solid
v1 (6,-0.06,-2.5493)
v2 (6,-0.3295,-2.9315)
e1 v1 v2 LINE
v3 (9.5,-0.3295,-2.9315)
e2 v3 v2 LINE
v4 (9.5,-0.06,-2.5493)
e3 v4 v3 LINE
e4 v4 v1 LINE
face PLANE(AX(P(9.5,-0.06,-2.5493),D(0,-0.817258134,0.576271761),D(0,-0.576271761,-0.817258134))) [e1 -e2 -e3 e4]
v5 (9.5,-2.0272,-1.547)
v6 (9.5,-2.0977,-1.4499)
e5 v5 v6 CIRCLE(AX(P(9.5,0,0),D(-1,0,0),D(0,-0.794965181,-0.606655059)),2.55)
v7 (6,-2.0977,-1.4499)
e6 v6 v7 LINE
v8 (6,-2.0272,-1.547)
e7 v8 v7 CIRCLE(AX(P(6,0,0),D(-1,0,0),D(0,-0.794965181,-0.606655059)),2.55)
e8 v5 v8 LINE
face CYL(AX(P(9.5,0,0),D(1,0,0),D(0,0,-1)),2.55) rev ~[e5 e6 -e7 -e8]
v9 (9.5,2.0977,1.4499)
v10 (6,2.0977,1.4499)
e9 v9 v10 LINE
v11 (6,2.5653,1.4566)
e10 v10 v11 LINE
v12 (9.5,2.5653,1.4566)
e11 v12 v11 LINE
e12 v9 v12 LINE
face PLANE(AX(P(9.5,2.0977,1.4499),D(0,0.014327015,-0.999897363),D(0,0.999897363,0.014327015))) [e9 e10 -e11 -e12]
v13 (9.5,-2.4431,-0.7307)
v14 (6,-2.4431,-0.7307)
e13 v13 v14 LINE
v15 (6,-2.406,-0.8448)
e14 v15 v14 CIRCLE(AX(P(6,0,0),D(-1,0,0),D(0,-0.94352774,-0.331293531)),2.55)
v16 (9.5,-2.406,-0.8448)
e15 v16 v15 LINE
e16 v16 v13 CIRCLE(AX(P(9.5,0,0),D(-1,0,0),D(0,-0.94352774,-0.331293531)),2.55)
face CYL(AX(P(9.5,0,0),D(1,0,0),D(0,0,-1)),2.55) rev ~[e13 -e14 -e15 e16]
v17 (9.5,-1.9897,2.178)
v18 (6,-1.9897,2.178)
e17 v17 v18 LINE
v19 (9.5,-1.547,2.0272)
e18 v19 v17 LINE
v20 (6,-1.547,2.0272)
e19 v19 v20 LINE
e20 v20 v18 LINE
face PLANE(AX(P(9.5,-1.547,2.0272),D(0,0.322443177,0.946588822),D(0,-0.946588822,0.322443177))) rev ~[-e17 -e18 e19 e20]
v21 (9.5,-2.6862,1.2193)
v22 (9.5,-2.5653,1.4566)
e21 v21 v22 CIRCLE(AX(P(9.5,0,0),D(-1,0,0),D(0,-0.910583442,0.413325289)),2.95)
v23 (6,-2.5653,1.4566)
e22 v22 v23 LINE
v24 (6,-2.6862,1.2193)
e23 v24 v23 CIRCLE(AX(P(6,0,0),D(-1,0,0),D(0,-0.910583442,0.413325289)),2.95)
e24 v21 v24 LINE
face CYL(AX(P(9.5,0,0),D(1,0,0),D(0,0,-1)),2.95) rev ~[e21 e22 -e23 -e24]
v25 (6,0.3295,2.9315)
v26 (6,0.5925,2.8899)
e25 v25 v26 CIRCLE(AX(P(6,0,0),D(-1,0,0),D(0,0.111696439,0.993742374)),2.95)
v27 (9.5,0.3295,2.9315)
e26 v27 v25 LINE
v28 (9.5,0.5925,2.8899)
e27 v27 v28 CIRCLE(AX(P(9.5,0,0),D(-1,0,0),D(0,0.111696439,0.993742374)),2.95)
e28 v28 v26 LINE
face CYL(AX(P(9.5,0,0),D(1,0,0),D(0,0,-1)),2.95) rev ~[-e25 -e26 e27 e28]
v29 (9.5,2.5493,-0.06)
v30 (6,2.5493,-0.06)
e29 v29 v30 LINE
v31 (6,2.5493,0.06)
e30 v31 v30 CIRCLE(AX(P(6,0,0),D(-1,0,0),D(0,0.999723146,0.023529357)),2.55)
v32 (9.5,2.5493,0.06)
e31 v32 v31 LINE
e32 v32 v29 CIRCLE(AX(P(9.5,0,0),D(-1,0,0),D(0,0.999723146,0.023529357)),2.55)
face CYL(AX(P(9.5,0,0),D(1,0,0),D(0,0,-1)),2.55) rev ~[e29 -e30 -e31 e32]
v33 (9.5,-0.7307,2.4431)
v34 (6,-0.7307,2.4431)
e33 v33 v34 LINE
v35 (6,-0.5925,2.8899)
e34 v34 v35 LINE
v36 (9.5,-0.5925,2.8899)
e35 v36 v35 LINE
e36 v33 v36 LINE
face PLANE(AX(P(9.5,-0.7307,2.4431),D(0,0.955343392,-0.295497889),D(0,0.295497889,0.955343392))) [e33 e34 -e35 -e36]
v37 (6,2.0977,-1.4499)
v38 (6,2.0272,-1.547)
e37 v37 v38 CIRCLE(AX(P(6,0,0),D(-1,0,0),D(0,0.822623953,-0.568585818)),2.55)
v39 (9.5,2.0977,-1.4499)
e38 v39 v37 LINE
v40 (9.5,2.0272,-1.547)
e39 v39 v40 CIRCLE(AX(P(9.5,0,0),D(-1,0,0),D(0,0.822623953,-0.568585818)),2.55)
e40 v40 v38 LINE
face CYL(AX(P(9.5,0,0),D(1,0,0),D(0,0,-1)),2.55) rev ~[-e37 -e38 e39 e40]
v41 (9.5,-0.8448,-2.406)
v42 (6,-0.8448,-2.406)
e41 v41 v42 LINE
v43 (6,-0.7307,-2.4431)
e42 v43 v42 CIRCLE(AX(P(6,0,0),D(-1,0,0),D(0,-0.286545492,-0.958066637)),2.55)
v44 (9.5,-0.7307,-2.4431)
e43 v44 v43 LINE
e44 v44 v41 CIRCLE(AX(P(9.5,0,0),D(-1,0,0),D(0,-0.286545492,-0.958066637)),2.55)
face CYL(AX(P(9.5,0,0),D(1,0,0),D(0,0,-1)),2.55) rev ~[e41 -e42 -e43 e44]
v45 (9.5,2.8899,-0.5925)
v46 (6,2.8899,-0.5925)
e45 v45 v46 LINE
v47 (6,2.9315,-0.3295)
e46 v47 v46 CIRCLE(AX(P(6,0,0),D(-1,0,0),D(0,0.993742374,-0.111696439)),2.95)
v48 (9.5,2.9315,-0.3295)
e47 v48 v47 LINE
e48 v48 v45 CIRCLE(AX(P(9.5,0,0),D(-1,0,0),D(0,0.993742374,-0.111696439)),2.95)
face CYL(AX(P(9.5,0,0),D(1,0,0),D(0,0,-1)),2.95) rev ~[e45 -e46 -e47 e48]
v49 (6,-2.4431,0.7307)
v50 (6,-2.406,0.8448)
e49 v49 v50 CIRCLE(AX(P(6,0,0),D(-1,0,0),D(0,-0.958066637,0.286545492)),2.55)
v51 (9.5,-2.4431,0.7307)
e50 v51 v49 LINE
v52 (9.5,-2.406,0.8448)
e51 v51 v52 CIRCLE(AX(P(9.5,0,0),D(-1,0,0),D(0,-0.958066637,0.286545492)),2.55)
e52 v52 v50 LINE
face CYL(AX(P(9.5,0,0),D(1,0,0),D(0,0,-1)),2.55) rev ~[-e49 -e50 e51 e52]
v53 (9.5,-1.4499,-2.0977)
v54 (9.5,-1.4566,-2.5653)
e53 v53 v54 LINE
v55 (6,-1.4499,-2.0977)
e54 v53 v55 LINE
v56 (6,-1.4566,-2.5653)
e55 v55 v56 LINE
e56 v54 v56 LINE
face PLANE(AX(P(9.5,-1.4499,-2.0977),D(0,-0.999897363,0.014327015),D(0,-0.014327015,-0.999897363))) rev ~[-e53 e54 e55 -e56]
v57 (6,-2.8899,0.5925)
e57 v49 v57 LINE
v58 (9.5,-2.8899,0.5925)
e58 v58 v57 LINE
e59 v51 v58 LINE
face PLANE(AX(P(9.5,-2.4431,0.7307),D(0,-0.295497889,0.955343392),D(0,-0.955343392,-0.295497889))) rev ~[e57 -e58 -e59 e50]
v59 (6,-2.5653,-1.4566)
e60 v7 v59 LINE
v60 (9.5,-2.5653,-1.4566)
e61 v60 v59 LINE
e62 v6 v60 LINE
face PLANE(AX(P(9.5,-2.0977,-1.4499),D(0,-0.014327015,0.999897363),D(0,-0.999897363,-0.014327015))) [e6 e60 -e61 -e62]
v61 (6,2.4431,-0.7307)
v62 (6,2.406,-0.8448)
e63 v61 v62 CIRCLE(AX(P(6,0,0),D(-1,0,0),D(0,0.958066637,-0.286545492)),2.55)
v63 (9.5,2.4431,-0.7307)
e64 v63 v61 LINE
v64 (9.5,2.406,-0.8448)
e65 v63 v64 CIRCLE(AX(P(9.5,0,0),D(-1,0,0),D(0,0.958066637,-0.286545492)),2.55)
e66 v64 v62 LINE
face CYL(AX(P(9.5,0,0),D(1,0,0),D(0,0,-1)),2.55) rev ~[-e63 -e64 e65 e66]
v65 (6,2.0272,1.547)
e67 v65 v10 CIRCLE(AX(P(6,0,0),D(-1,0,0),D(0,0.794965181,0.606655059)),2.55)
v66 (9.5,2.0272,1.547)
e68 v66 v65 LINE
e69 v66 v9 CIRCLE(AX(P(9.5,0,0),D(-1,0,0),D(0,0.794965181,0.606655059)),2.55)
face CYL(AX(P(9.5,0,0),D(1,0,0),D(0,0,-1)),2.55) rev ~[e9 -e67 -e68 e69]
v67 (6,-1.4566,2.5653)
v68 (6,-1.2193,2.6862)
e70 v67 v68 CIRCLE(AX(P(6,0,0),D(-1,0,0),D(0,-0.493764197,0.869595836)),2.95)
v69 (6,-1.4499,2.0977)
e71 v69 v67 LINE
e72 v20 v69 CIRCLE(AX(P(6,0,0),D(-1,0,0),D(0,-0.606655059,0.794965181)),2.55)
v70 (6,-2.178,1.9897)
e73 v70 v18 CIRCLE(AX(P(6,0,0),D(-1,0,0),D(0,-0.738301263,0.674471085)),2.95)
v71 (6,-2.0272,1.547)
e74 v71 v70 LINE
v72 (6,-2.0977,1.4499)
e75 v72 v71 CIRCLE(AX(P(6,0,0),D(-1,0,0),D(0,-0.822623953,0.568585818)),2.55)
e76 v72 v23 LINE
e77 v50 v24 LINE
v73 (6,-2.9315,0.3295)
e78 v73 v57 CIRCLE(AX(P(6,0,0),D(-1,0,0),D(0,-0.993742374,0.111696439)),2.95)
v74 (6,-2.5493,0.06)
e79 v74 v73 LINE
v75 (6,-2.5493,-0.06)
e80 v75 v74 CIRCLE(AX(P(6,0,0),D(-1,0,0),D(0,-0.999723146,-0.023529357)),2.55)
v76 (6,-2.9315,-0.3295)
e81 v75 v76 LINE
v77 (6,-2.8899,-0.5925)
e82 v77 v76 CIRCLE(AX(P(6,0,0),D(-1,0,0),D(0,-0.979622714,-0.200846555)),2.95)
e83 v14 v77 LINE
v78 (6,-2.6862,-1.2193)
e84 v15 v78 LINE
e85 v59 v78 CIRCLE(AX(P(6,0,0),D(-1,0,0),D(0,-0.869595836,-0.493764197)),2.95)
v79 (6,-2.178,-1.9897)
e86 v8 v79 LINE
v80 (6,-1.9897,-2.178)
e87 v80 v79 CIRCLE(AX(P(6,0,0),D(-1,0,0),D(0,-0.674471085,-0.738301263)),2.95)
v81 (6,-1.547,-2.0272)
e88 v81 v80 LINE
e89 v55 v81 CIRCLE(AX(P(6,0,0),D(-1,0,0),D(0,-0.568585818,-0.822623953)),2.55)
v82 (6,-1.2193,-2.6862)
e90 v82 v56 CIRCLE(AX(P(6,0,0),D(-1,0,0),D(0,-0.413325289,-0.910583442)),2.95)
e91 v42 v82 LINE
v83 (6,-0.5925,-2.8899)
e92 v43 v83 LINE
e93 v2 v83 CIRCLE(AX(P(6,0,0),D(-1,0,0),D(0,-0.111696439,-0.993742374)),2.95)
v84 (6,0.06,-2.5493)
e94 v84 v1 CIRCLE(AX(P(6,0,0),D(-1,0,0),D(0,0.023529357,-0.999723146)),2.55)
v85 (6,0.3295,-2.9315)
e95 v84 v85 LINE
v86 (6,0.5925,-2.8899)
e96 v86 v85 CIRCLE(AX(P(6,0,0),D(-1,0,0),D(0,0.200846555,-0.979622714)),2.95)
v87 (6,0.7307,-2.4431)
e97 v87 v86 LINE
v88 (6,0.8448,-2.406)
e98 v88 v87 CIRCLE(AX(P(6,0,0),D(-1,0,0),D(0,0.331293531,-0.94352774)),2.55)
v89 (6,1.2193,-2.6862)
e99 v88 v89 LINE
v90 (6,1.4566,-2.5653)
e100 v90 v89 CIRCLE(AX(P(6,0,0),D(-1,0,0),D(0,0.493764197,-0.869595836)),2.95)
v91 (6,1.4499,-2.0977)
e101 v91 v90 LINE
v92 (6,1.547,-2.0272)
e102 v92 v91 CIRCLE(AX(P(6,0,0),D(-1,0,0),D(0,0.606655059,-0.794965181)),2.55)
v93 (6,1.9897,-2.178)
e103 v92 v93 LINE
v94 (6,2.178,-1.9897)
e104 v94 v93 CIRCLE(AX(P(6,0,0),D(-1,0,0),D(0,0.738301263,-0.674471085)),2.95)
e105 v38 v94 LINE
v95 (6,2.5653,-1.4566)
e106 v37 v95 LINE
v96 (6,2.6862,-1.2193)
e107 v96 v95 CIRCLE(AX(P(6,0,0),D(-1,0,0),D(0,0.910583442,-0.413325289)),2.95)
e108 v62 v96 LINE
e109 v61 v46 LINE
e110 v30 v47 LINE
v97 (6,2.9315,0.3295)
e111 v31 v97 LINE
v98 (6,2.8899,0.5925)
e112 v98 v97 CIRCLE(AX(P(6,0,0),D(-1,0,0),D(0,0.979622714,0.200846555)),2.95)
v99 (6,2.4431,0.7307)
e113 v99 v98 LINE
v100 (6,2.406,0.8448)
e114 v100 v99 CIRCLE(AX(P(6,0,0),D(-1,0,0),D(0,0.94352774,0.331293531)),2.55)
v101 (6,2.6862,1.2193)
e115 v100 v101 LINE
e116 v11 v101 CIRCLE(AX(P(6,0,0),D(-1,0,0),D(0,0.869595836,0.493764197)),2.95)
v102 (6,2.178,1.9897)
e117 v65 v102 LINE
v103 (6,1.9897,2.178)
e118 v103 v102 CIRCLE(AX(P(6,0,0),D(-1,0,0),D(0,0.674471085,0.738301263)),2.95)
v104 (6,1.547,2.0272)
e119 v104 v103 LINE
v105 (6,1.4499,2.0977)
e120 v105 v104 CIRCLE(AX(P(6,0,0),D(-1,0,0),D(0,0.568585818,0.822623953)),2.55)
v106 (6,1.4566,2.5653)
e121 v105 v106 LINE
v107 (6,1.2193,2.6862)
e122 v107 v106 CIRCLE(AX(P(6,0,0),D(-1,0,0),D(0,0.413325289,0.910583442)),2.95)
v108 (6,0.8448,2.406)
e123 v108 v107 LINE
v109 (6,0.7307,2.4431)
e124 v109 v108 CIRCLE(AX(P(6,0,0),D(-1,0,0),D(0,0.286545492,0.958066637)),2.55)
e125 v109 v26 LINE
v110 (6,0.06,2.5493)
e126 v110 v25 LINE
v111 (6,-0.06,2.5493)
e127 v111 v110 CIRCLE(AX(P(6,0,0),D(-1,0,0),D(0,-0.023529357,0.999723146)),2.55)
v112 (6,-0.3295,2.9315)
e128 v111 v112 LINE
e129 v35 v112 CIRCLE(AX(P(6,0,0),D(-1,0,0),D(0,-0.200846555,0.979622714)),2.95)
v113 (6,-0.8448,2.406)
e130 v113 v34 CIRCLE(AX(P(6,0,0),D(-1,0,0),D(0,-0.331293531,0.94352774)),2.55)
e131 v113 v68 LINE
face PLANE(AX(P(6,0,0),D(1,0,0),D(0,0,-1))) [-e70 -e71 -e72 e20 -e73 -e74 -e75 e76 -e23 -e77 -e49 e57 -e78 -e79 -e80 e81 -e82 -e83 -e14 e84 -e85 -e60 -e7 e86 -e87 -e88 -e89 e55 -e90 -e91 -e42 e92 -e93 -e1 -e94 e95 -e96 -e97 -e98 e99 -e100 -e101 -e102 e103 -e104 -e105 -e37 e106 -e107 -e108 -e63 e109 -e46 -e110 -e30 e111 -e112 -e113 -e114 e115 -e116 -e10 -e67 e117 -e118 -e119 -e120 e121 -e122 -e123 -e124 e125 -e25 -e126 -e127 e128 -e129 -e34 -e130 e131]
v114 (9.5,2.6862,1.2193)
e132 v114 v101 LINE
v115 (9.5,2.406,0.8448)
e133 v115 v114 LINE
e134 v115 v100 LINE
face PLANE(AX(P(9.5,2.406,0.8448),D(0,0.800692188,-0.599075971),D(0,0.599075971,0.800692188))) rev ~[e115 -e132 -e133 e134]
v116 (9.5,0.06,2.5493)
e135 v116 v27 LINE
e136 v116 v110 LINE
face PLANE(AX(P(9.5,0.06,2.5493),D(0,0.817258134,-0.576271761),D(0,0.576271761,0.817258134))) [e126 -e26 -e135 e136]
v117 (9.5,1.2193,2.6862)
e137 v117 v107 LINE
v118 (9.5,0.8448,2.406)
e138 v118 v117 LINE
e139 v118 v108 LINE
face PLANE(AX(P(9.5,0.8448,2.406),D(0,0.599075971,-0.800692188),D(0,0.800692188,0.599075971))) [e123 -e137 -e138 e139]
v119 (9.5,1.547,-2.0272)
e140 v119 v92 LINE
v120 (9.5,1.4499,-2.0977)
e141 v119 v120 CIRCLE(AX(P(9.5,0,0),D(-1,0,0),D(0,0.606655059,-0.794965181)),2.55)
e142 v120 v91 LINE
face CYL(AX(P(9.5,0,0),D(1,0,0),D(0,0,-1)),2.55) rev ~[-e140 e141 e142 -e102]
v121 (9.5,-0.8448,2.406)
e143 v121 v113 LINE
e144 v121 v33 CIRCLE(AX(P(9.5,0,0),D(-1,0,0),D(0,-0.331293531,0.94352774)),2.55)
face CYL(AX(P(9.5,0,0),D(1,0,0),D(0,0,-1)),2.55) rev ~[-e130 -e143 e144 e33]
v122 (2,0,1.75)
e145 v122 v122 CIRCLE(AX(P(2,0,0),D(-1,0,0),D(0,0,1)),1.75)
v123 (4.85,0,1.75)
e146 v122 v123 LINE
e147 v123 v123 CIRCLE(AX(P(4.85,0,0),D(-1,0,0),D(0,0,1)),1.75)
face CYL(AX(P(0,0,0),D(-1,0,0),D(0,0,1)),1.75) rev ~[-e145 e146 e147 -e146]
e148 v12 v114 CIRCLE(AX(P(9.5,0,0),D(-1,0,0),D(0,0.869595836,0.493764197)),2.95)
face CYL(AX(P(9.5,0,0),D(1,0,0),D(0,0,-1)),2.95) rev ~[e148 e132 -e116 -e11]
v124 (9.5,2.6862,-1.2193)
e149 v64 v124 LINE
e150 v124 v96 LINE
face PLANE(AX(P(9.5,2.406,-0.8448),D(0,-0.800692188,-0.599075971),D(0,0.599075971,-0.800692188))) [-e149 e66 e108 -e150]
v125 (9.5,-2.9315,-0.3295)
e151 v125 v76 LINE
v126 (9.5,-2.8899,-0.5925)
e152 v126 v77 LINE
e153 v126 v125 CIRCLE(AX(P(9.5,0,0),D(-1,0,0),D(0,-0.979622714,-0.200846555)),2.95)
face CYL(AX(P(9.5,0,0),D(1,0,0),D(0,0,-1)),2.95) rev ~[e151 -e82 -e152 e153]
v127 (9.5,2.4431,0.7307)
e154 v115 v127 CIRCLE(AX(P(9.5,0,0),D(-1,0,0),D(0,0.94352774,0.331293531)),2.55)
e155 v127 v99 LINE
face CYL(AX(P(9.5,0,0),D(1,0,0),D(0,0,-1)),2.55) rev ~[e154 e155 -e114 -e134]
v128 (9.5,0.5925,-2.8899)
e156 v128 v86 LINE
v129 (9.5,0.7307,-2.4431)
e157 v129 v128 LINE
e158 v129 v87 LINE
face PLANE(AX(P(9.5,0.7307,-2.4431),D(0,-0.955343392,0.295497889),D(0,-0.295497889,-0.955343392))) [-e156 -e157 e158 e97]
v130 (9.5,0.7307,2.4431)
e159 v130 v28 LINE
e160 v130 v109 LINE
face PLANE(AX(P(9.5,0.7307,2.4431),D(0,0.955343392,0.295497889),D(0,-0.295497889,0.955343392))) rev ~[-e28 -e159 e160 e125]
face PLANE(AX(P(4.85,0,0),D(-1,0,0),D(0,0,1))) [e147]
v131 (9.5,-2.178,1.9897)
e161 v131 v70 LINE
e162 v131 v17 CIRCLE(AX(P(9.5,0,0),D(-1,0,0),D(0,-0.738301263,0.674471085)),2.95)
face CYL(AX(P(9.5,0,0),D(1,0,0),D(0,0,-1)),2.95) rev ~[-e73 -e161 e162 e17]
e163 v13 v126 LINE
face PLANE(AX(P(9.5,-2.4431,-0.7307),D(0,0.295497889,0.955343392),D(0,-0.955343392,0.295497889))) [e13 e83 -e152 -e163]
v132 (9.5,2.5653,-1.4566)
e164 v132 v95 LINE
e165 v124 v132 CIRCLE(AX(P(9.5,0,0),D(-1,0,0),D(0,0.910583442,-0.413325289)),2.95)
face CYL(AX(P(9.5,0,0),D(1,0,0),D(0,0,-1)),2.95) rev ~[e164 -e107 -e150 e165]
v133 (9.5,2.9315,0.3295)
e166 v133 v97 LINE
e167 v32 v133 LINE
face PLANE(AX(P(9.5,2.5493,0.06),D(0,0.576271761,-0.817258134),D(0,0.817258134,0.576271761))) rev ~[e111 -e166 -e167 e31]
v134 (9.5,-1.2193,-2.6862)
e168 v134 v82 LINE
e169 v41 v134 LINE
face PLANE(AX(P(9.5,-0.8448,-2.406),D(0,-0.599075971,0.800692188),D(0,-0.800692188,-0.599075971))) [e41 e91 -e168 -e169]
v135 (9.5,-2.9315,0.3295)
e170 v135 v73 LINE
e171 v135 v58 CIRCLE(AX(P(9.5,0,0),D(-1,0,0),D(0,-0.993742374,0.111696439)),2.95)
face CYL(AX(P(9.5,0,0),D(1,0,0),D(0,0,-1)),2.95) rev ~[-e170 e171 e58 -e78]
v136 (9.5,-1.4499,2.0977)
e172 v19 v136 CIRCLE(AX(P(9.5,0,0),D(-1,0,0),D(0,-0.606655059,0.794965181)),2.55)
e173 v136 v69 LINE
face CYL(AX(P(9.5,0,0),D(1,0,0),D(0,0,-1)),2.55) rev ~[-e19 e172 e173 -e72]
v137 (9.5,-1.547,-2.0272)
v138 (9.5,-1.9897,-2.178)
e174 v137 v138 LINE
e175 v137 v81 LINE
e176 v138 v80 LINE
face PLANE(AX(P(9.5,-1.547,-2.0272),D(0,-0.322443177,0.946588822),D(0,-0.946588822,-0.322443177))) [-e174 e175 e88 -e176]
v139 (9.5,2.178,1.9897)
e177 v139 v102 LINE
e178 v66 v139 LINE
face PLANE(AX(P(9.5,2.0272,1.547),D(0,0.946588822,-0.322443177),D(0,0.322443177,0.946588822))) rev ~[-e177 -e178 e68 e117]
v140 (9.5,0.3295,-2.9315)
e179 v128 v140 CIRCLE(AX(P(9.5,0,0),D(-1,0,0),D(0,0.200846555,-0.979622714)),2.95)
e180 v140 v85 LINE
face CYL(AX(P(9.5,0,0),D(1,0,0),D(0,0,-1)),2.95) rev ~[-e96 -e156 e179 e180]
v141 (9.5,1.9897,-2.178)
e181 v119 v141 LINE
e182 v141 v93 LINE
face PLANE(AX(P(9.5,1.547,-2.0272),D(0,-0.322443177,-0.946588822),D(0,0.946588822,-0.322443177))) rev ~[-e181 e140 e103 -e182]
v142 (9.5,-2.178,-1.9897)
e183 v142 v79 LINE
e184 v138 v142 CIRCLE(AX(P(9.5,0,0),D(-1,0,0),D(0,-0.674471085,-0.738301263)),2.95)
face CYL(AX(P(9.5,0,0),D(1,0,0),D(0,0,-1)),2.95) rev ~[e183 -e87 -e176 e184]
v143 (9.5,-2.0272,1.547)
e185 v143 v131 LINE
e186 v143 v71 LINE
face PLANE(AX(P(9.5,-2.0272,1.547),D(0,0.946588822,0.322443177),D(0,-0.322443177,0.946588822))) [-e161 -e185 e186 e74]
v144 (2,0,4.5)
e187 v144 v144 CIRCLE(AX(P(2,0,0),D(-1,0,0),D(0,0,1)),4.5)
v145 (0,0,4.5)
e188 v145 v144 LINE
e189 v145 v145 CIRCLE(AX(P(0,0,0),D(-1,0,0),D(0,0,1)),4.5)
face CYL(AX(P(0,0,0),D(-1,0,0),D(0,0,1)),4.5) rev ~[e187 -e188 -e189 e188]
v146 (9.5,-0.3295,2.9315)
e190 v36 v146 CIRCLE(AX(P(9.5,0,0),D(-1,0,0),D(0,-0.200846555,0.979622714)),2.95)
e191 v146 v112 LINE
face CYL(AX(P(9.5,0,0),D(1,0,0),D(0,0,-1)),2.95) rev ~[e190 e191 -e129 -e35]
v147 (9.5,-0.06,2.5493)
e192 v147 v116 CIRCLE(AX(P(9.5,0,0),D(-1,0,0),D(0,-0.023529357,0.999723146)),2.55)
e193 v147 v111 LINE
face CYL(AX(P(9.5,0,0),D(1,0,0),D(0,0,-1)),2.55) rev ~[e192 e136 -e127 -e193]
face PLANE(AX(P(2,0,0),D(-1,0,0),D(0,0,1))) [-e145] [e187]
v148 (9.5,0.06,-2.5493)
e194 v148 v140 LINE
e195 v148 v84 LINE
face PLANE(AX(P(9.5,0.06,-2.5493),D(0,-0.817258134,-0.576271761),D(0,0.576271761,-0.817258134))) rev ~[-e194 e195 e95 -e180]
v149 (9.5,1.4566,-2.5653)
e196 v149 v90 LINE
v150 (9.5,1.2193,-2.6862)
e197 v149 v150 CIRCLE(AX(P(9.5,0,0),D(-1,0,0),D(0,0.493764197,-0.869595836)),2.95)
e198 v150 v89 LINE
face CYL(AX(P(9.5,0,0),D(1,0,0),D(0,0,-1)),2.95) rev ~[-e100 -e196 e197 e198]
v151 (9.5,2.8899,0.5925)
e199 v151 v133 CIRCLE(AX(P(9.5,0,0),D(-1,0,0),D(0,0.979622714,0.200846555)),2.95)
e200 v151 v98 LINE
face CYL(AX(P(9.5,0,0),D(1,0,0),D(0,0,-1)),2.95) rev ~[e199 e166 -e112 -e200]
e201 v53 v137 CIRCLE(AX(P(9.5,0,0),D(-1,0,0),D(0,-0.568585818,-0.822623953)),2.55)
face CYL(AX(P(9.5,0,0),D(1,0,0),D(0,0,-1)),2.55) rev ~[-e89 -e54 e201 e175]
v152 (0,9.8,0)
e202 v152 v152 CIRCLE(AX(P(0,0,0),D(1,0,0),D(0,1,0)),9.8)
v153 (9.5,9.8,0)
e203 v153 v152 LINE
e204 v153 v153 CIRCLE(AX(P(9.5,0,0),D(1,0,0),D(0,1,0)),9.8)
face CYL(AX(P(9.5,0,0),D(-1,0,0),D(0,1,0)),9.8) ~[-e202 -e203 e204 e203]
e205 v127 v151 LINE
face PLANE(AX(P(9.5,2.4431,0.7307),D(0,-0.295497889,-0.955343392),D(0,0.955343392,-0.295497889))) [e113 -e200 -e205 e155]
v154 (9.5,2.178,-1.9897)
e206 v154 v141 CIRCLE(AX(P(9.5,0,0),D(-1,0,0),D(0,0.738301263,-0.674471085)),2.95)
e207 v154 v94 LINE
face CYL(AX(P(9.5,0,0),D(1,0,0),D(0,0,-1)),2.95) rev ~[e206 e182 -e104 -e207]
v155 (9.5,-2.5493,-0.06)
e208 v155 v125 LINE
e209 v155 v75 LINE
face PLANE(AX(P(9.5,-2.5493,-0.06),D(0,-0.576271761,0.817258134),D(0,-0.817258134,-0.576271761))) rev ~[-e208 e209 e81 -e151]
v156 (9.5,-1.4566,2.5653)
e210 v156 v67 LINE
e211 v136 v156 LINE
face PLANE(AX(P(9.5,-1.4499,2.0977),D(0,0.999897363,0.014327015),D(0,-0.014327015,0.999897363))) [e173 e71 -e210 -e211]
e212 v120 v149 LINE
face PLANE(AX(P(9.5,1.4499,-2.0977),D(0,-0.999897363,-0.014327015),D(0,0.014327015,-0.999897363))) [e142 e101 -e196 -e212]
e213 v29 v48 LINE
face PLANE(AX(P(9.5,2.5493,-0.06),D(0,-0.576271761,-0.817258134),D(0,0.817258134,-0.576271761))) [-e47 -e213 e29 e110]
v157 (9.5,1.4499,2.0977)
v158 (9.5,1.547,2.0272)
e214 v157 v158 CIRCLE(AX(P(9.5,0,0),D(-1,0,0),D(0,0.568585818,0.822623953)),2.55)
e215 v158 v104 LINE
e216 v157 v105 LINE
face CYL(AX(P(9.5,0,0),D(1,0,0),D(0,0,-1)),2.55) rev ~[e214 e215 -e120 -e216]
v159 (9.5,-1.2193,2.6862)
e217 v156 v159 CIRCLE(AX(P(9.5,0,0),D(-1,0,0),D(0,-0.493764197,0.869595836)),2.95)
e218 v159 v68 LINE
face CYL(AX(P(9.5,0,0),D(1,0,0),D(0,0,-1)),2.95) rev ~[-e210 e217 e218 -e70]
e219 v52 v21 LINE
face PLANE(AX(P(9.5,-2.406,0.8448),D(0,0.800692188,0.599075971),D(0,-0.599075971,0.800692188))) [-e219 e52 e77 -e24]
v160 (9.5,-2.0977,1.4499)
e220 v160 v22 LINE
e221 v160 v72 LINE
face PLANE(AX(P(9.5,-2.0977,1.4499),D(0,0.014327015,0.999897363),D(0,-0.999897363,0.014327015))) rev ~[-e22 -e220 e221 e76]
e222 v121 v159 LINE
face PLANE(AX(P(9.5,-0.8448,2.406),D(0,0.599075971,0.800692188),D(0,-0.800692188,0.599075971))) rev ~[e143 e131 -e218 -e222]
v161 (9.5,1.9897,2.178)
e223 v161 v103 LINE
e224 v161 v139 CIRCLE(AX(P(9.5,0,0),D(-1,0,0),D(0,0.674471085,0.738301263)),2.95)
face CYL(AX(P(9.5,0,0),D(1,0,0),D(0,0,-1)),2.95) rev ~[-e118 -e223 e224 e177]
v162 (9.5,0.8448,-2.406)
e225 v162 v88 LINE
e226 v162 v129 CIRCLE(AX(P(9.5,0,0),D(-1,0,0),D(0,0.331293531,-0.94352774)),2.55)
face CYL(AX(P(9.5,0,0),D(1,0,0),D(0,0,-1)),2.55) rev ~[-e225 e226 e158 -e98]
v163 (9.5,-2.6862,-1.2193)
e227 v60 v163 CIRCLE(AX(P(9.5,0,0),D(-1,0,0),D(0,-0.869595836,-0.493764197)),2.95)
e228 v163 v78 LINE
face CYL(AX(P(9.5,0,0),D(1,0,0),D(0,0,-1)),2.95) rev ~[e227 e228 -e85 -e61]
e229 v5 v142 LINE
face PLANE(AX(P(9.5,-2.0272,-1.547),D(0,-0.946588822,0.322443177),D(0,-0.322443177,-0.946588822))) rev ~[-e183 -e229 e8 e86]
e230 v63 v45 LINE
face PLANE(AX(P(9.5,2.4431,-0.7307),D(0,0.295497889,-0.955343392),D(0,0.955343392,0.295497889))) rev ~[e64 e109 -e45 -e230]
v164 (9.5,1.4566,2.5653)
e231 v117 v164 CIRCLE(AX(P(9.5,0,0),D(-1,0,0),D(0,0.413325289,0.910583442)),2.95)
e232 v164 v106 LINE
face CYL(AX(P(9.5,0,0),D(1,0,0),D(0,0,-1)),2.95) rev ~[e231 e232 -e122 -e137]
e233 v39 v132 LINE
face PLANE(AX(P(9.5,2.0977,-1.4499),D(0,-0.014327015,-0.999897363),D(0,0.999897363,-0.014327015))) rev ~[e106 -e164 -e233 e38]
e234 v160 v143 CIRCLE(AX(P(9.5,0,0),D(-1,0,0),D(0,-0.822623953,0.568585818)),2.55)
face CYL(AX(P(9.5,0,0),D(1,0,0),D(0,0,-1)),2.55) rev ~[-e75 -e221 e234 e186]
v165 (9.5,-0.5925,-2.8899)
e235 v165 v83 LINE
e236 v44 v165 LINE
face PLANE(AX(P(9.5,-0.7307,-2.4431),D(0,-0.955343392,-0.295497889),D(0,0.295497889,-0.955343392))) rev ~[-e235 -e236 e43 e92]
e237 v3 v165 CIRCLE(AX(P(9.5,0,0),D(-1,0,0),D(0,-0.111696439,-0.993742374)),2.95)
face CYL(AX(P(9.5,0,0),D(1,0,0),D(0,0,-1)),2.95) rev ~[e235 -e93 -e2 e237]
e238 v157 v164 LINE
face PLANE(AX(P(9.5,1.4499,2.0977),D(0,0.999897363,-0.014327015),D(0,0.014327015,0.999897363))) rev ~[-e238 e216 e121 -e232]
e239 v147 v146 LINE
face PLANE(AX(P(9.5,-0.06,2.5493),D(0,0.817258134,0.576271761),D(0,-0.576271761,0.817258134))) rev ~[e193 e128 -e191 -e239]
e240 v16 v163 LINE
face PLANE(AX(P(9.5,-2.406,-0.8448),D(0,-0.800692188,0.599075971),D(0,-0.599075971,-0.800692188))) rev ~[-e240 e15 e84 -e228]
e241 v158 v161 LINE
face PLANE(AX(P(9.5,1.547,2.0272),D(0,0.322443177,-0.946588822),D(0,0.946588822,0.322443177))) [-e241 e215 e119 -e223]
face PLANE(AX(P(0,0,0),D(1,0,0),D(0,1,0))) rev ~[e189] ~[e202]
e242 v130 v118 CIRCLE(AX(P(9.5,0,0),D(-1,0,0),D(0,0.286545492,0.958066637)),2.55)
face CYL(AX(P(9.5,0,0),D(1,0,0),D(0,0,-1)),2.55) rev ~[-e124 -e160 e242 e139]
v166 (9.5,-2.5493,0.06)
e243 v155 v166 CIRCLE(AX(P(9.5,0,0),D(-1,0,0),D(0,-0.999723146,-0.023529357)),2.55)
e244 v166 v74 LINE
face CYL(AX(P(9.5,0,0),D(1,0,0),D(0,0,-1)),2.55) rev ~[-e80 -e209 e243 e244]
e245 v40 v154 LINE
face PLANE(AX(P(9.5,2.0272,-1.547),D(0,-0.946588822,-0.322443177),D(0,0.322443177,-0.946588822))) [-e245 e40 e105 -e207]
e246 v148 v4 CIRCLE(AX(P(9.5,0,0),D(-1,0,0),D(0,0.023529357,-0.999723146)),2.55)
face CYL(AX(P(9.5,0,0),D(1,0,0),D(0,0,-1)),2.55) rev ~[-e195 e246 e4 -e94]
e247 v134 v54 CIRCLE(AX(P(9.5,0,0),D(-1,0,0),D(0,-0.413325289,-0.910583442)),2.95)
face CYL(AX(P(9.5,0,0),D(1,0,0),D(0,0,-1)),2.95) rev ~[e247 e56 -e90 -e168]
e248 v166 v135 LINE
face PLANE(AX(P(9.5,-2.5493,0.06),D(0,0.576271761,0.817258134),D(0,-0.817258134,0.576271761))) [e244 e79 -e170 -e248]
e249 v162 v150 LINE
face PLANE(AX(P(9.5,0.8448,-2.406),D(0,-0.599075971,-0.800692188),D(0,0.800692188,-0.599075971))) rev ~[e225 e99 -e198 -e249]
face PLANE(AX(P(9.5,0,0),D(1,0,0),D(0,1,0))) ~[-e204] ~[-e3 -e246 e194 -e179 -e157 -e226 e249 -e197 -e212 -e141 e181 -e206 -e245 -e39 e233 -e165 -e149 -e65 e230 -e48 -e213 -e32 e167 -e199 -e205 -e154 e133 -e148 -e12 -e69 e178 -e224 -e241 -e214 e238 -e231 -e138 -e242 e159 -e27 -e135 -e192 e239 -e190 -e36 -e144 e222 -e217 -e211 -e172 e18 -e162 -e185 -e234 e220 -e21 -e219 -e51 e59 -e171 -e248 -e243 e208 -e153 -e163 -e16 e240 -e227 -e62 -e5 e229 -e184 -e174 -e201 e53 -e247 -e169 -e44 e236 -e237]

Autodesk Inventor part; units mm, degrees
ref_plane "YZ Plane" through (0, 0, 0) normal (1, 0, 0) x (0, 1, 0)
ref_plane "XZ Plane" through (0, 0, 0) normal (0, 1, 0) x (-1, 0, 0)
ref_plane "XY Plane" through (0, 0, 0) normal (0, 0, 1) x (1, 0, 0)
sketch "Esboço2" plane through (0, 0, 0) normal (0, 0, 1) x (1, 0, 0)
  line L0 (0, 0) -> (9.5, 0)
  line L1 (9.5, 0) -> (9.5, 9.8)
  line L2 (9.5, 9.8) -> (0, 9.8)
  line L3 (0, 9.8) -> (0, 0)
  dimension "d0" = 9.5
  dimension "d1" = 9.8
revolve "Revolução1" add sketch "Esboço2" angle 360 about axis through (0, 0, 0) along (1, 0, 0)
sketch "Esboço3" plane through (0, 0, 0) normal (-1, 0, 0) x (0, 0, 1)
  circle A0 centre (0, 0) radius 1.75
  dimension "d3" = 3.5
extrude "Extrusão1" cut sketch "Esboço3" against normal blind 4.85
sketch "Esboço4" plane through (0, 0, 0) normal (-1, 0, 0) x (0, 0, 1)
  circle A0 centre (0, 0) radius 4.5
  dimension "d6" = 9
extrude "Extrusão2" cut sketch "Esboço4" against normal blind 2
sketch "Esboço11" plane through (9.5, 0, 0) normal (1, 0, 0) x (0, 0, -1)
  circle A0 centre (0, 0) radius 2.55
  circle A1 centre (0, 0) radius 2.95
  line L0 (0, 0) -> (2.95, 0)
  line L1 (2.55, 0) -> (2.5493, 0.06)
  line L2 (2.5493, 0.06) -> (2.55, 0)
  line L3 (2.55, 0) -> (2.5493, -0.06)
  line L4 (2.5493, 0.06) -> (2.9315, 0.3295)
  line L5 (2.5493, -0.06) -> (2.9315, -0.3295)
  line L6 (2.9315, 0.3295) -> (2.9255, 0.3791)
  line L7 (2.9315, -0.3295) -> (2.9255, -0.3791)
  line L8 (2.406, 0.8448) -> (2.6862, 1.2193)
  line L9 (2.4252, 0.788) -> (2.406, 0.8448)
  line L10 (2.4252, 0.788) -> (2.4431, 0.7307)
  line L11 (2.4431, 0.7307) -> (2.8899, 0.5925)
  circle A2 centre (0, 0) radius 2.95
  line L12 (2.6862, 1.2193) -> (2.6652, 1.2646)
  line L13 (2.8899, 0.5925) -> (2.8995, 0.5435)
  line L14 (2.0272, 1.547) -> (2.178, 1.9897)
  line L15 (2.063, 1.4989) -> (2.0272, 1.547)
  line L16 (2.063, 1.4989) -> (2.0977, 1.4499)
  line L17 (2.0977, 1.4499) -> (2.5653, 1.4566)
  circle A3 centre (0, 0) radius 2.95
  line L18 (2.178, 1.9897) -> (2.144, 2.0263)
  line L19 (2.5653, 1.4566) -> (2.5897, 1.4129)
  line L20 (1.4499, 2.0977) -> (1.4566, 2.5653)
  line L21 (1.4989, 2.063) -> (1.4499, 2.0977)
  line L22 (1.4989, 2.063) -> (1.547, 2.0272)
  line L23 (1.547, 2.0272) -> (1.9897, 2.178)
  circle A4 centre (0, 0) radius 2.95
  line L24 (1.4566, 2.5653) -> (1.4129, 2.5897)
  line L25 (1.9897, 2.178) -> (2.0263, 2.144)
  line L26 (0.7307, 2.4431) -> (0.5925, 2.8899)
  line L27 (0.788, 2.4252) -> (0.7307, 2.4431)
  line L28 (0.788, 2.4252) -> (0.8448, 2.406)
  line L29 (0.8448, 2.406) -> (1.2193, 2.6862)
  circle A5 centre (0, 0) radius 2.95
  line L30 (0.5925, 2.8899) -> (0.5435, 2.8995)
  line L31 (1.2193, 2.6862) -> (1.2646, 2.6652)
  line L32 (-0.06, 2.5493) -> (-0.3295, 2.9315)
  line L33 (0, 2.55) -> (-0.06, 2.5493)
  line L34 (0, 2.55) -> (0.06, 2.5493)
  line L35 (0.06, 2.5493) -> (0.3295, 2.9315)
  circle A6 centre (0, 0) radius 2.95
  line L36 (-0.3295, 2.9315) -> (-0.3791, 2.9255)
  line L37 (0.3295, 2.9315) -> (0.3791, 2.9255)
  line L38 (-0.8448, 2.406) -> (-1.2193, 2.6862)
  line L39 (-0.788, 2.4252) -> (-0.8448, 2.406)
  line L40 (-0.788, 2.4252) -> (-0.7307, 2.4431)
  line L41 (-0.7307, 2.4431) -> (-0.5925, 2.8899)
  circle A7 centre (0, 0) radius 2.95
  line L42 (-1.2193, 2.6862) -> (-1.2646, 2.6652)
  line L43 (-0.5925, 2.8899) -> (-0.5435, 2.8995)
  line L44 (-1.547, 2.0272) -> (-1.9897, 2.178)
  line L45 (-1.4989, 2.063) -> (-1.547, 2.0272)
  line L46 (-1.4989, 2.063) -> (-1.4499, 2.0977)
  line L47 (-1.4499, 2.0977) -> (-1.4566, 2.5653)
  circle A8 centre (0, 0) radius 2.95
  line L48 (-1.9897, 2.178) -> (-2.0263, 2.144)
  line L49 (-1.4566, 2.5653) -> (-1.4129, 2.5897)
  line L50 (-2.0977, 1.4499) -> (-2.5653, 1.4566)
  line L51 (-2.063, 1.4989) -> (-2.0977, 1.4499)
  line L52 (-2.063, 1.4989) -> (-2.0272, 1.547)
  line L53 (-2.0272, 1.547) -> (-2.178, 1.9897)
  circle A9 centre (0, 0) radius 2.95
  line L54 (-2.5653, 1.4566) -> (-2.5897, 1.4129)
  line L55 (-2.178, 1.9897) -> (-2.144, 2.0263)
  line L56 (-2.4431, 0.7307) -> (-2.8899, 0.5925)
  line L57 (-2.4252, 0.788) -> (-2.4431, 0.7307)
  line L58 (-2.4252, 0.788) -> (-2.406, 0.8448)
  line L59 (-2.406, 0.8448) -> (-2.6862, 1.2193)
  circle A10 centre (0, 0) radius 2.95
  line L60 (-2.8899, 0.5925) -> (-2.8995, 0.5435)
  line L61 (-2.6862, 1.2193) -> (-2.6652, 1.2646)
  line L62 (-2.5493, -0.06) -> (-2.9315, -0.3295)
  line L63 (-2.55, 0) -> (-2.5493, -0.06)
  line L64 (-2.55, 0) -> (-2.5493, 0.06)
  line L65 (-2.5493, 0.06) -> (-2.9315, 0.3295)
  circle A11 centre (0, 0) radius 2.95
  line L66 (-2.9315, -0.3295) -> (-2.9255, -0.3791)
  line L67 (-2.9315, 0.3295) -> (-2.9255, 0.3791)
  line L68 (-2.406, -0.8448) -> (-2.6862, -1.2193)
  line L69 (-2.4252, -0.788) -> (-2.406, -0.8448)
  line L70 (-2.4252, -0.788) -> (-2.4431, -0.7307)
  line L71 (-2.4431, -0.7307) -> (-2.8899, -0.5925)
  circle A12 centre (0, 0) radius 2.95
  line L72 (-2.6862, -1.2193) -> (-2.6652, -1.2646)
  line L73 (-2.8899, -0.5925) -> (-2.8995, -0.5435)
  line L74 (-2.0272, -1.547) -> (-2.178, -1.9897)
  line L75 (-2.063, -1.4989) -> (-2.0272, -1.547)
  line L76 (-2.063, -1.4989) -> (-2.0977, -1.4499)
  line L77 (-2.0977, -1.4499) -> (-2.5653, -1.4566)
  circle A13 centre (0, 0) radius 2.95
  line L78 (-2.178, -1.9897) -> (-2.144, -2.0263)
  line L79 (-2.5653, -1.4566) -> (-2.5897, -1.4129)
  line L80 (-1.4499, -2.0977) -> (-1.4566, -2.5653)
  line L81 (-1.4989, -2.063) -> (-1.4499, -2.0977)
  line L82 (-1.4989, -2.063) -> (-1.547, -2.0272)
  line L83 (-1.547, -2.0272) -> (-1.9897, -2.178)
  circle A14 centre (0, 0) radius 2.95
  line L84 (-1.4566, -2.5653) -> (-1.4129, -2.5897)
  line L85 (-1.9897, -2.178) -> (-2.0263, -2.144)
  line L86 (-0.7307, -2.4431) -> (-0.5925, -2.8899)
  line L87 (-0.788, -2.4252) -> (-0.7307, -2.4431)
  line L88 (-0.788, -2.4252) -> (-0.8448, -2.406)
  line L89 (-0.8448, -2.406) -> (-1.2193, -2.6862)
  circle A15 centre (0, 0) radius 2.95
  line L90 (-0.5925, -2.8899) -> (-0.5435, -2.8995)
  line L91 (-1.2193, -2.6862) -> (-1.2646, -2.6652)
  line L92 (0.06, -2.5493) -> (0.3295, -2.9315)
  line L93 (0, -2.55) -> (0.06, -2.5493)
  line L94 (0, -2.55) -> (-0.06, -2.5493)
  line L95 (-0.06, -2.5493) -> (-0.3295, -2.9315)
  circle A16 centre (0, 0) radius 2.95
  line L96 (0.3295, -2.9315) -> (0.3791, -2.9255)
  line L97 (-0.3295, -2.9315) -> (-0.3791, -2.9255)
  line L98 (0.8448, -2.406) -> (1.2193, -2.6862)
  line L99 (0.788, -2.4252) -> (0.8448, -2.406)
  line L100 (0.788, -2.4252) -> (0.7307, -2.4431)
  line L101 (0.7307, -2.4431) -> (0.5925, -2.8899)
  circle A17 centre (0, 0) radius 2.95
  line L102 (1.2193, -2.6862) -> (1.2646, -2.6652)
  line L103 (0.5925, -2.8899) -> (0.5435, -2.8995)
  line L104 (1.547, -2.0272) -> (1.9897, -2.178)
  line L105 (1.4989, -2.063) -> (1.547, -2.0272)
  line L106 (1.4989, -2.063) -> (1.4499, -2.0977)
  line L107 (1.4499, -2.0977) -> (1.4566, -2.5653)
  circle A18 centre (0, 0) radius 2.95
  line L108 (1.9897, -2.178) -> (2.0263, -2.144)
  line L109 (1.4566, -2.5653) -> (1.4129, -2.5897)
  line L110 (2.0977, -1.4499) -> (2.5653, -1.4566)
  line L111 (2.063, -1.4989) -> (2.0977, -1.4499)
  line L112 (2.063, -1.4989) -> (2.0272, -1.547)
  line L113 (2.0272, -1.547) -> (2.178, -1.9897)
  circle A19 centre (0, 0) radius 2.95
  line L114 (2.5653, -1.4566) -> (2.5897, -1.4129)
  line L115 (2.178, -1.9897) -> (2.144, -2.0263)
  line L116 (2.4431, -0.7307) -> (2.8899, -0.5925)
  line L117 (2.4252, -0.788) -> (2.4431, -0.7307)
  line L118 (2.4252, -0.788) -> (2.406, -0.8448)
  line L119 (2.406, -0.8448) -> (2.6862, -1.2193)
  circle A20 centre (0, 0) radius 2.95
  line L120 (2.8899, -0.5925) -> (2.8995, -0.5435)
  line L121 (2.6862, -1.2193) -> (2.6652, -1.2646)
  point P0 (2.8056, 0.9116)
  point P1 (2.3866, 1.734)
  point P2 (1.734, 2.3866)
  point P3 (0.9116, 2.8056)
  point P4 (0, 2.95)
  point P5 (-0.9116, 2.8056)
  point P6 (-1.734, 2.3866)
  point P7 (-2.3866, 1.734)
  point P8 (-2.8056, 0.9116)
  point P9 (-2.95, 0)
  point P10 (-2.8056, -0.9116)
  point P11 (-2.3866, -1.734)
  point P12 (-1.734, -2.3866)
  point P13 (-0.9116, -2.8056)
  point P14 (0, -2.95)
  point P15 (0.9116, -2.8056)
  point P16 (1.734, -2.3866)
  point P17 (2.3866, -1.734)
  point P18 (2.8056, -0.9116)
  dimension "d59" = 5.9
  dimension "d58" = 5.1
  dimension "d60" = 0.06
  dimension "d61" = 0.06
  dimension "d62" = 0.05
  dimension "d63" = 0.05
  dimension "d66" = 360
extrude "Extrusão5" cut sketch "Esboço11" against normal blind 3.5 contours A0 | A0 L11 A1 L4 | L5 A1 L116 A0 | A0 L17 A1 L8 | L119 A1 L110 A0 | A0 L23 A1 L14 | L113 A1 L104 A0 | A0 L29 A1 L20 | L107 A1 L98 A0 | A0 L35 A1 L26 | L101 A1 L92 A0 | A0 L41 A1 L32 | L95 A1 L86 A0 | A0 L47 A1 L38 | L89 A1 L80 A0 | A0 L53 A1 L44 | L83 A1 L74 A0 | A0 L59 A1 L50 | L77 A1 L68 A0 | A0 L65 A1 L56 | L71 A1 L62 A0
sketch "Esboço12" plane through (9.5, 0, 0) normal (1, 0, 0) x (0, 0, -1)
  point P0 (0, 0)
properties part number "roda certa 2.0"
